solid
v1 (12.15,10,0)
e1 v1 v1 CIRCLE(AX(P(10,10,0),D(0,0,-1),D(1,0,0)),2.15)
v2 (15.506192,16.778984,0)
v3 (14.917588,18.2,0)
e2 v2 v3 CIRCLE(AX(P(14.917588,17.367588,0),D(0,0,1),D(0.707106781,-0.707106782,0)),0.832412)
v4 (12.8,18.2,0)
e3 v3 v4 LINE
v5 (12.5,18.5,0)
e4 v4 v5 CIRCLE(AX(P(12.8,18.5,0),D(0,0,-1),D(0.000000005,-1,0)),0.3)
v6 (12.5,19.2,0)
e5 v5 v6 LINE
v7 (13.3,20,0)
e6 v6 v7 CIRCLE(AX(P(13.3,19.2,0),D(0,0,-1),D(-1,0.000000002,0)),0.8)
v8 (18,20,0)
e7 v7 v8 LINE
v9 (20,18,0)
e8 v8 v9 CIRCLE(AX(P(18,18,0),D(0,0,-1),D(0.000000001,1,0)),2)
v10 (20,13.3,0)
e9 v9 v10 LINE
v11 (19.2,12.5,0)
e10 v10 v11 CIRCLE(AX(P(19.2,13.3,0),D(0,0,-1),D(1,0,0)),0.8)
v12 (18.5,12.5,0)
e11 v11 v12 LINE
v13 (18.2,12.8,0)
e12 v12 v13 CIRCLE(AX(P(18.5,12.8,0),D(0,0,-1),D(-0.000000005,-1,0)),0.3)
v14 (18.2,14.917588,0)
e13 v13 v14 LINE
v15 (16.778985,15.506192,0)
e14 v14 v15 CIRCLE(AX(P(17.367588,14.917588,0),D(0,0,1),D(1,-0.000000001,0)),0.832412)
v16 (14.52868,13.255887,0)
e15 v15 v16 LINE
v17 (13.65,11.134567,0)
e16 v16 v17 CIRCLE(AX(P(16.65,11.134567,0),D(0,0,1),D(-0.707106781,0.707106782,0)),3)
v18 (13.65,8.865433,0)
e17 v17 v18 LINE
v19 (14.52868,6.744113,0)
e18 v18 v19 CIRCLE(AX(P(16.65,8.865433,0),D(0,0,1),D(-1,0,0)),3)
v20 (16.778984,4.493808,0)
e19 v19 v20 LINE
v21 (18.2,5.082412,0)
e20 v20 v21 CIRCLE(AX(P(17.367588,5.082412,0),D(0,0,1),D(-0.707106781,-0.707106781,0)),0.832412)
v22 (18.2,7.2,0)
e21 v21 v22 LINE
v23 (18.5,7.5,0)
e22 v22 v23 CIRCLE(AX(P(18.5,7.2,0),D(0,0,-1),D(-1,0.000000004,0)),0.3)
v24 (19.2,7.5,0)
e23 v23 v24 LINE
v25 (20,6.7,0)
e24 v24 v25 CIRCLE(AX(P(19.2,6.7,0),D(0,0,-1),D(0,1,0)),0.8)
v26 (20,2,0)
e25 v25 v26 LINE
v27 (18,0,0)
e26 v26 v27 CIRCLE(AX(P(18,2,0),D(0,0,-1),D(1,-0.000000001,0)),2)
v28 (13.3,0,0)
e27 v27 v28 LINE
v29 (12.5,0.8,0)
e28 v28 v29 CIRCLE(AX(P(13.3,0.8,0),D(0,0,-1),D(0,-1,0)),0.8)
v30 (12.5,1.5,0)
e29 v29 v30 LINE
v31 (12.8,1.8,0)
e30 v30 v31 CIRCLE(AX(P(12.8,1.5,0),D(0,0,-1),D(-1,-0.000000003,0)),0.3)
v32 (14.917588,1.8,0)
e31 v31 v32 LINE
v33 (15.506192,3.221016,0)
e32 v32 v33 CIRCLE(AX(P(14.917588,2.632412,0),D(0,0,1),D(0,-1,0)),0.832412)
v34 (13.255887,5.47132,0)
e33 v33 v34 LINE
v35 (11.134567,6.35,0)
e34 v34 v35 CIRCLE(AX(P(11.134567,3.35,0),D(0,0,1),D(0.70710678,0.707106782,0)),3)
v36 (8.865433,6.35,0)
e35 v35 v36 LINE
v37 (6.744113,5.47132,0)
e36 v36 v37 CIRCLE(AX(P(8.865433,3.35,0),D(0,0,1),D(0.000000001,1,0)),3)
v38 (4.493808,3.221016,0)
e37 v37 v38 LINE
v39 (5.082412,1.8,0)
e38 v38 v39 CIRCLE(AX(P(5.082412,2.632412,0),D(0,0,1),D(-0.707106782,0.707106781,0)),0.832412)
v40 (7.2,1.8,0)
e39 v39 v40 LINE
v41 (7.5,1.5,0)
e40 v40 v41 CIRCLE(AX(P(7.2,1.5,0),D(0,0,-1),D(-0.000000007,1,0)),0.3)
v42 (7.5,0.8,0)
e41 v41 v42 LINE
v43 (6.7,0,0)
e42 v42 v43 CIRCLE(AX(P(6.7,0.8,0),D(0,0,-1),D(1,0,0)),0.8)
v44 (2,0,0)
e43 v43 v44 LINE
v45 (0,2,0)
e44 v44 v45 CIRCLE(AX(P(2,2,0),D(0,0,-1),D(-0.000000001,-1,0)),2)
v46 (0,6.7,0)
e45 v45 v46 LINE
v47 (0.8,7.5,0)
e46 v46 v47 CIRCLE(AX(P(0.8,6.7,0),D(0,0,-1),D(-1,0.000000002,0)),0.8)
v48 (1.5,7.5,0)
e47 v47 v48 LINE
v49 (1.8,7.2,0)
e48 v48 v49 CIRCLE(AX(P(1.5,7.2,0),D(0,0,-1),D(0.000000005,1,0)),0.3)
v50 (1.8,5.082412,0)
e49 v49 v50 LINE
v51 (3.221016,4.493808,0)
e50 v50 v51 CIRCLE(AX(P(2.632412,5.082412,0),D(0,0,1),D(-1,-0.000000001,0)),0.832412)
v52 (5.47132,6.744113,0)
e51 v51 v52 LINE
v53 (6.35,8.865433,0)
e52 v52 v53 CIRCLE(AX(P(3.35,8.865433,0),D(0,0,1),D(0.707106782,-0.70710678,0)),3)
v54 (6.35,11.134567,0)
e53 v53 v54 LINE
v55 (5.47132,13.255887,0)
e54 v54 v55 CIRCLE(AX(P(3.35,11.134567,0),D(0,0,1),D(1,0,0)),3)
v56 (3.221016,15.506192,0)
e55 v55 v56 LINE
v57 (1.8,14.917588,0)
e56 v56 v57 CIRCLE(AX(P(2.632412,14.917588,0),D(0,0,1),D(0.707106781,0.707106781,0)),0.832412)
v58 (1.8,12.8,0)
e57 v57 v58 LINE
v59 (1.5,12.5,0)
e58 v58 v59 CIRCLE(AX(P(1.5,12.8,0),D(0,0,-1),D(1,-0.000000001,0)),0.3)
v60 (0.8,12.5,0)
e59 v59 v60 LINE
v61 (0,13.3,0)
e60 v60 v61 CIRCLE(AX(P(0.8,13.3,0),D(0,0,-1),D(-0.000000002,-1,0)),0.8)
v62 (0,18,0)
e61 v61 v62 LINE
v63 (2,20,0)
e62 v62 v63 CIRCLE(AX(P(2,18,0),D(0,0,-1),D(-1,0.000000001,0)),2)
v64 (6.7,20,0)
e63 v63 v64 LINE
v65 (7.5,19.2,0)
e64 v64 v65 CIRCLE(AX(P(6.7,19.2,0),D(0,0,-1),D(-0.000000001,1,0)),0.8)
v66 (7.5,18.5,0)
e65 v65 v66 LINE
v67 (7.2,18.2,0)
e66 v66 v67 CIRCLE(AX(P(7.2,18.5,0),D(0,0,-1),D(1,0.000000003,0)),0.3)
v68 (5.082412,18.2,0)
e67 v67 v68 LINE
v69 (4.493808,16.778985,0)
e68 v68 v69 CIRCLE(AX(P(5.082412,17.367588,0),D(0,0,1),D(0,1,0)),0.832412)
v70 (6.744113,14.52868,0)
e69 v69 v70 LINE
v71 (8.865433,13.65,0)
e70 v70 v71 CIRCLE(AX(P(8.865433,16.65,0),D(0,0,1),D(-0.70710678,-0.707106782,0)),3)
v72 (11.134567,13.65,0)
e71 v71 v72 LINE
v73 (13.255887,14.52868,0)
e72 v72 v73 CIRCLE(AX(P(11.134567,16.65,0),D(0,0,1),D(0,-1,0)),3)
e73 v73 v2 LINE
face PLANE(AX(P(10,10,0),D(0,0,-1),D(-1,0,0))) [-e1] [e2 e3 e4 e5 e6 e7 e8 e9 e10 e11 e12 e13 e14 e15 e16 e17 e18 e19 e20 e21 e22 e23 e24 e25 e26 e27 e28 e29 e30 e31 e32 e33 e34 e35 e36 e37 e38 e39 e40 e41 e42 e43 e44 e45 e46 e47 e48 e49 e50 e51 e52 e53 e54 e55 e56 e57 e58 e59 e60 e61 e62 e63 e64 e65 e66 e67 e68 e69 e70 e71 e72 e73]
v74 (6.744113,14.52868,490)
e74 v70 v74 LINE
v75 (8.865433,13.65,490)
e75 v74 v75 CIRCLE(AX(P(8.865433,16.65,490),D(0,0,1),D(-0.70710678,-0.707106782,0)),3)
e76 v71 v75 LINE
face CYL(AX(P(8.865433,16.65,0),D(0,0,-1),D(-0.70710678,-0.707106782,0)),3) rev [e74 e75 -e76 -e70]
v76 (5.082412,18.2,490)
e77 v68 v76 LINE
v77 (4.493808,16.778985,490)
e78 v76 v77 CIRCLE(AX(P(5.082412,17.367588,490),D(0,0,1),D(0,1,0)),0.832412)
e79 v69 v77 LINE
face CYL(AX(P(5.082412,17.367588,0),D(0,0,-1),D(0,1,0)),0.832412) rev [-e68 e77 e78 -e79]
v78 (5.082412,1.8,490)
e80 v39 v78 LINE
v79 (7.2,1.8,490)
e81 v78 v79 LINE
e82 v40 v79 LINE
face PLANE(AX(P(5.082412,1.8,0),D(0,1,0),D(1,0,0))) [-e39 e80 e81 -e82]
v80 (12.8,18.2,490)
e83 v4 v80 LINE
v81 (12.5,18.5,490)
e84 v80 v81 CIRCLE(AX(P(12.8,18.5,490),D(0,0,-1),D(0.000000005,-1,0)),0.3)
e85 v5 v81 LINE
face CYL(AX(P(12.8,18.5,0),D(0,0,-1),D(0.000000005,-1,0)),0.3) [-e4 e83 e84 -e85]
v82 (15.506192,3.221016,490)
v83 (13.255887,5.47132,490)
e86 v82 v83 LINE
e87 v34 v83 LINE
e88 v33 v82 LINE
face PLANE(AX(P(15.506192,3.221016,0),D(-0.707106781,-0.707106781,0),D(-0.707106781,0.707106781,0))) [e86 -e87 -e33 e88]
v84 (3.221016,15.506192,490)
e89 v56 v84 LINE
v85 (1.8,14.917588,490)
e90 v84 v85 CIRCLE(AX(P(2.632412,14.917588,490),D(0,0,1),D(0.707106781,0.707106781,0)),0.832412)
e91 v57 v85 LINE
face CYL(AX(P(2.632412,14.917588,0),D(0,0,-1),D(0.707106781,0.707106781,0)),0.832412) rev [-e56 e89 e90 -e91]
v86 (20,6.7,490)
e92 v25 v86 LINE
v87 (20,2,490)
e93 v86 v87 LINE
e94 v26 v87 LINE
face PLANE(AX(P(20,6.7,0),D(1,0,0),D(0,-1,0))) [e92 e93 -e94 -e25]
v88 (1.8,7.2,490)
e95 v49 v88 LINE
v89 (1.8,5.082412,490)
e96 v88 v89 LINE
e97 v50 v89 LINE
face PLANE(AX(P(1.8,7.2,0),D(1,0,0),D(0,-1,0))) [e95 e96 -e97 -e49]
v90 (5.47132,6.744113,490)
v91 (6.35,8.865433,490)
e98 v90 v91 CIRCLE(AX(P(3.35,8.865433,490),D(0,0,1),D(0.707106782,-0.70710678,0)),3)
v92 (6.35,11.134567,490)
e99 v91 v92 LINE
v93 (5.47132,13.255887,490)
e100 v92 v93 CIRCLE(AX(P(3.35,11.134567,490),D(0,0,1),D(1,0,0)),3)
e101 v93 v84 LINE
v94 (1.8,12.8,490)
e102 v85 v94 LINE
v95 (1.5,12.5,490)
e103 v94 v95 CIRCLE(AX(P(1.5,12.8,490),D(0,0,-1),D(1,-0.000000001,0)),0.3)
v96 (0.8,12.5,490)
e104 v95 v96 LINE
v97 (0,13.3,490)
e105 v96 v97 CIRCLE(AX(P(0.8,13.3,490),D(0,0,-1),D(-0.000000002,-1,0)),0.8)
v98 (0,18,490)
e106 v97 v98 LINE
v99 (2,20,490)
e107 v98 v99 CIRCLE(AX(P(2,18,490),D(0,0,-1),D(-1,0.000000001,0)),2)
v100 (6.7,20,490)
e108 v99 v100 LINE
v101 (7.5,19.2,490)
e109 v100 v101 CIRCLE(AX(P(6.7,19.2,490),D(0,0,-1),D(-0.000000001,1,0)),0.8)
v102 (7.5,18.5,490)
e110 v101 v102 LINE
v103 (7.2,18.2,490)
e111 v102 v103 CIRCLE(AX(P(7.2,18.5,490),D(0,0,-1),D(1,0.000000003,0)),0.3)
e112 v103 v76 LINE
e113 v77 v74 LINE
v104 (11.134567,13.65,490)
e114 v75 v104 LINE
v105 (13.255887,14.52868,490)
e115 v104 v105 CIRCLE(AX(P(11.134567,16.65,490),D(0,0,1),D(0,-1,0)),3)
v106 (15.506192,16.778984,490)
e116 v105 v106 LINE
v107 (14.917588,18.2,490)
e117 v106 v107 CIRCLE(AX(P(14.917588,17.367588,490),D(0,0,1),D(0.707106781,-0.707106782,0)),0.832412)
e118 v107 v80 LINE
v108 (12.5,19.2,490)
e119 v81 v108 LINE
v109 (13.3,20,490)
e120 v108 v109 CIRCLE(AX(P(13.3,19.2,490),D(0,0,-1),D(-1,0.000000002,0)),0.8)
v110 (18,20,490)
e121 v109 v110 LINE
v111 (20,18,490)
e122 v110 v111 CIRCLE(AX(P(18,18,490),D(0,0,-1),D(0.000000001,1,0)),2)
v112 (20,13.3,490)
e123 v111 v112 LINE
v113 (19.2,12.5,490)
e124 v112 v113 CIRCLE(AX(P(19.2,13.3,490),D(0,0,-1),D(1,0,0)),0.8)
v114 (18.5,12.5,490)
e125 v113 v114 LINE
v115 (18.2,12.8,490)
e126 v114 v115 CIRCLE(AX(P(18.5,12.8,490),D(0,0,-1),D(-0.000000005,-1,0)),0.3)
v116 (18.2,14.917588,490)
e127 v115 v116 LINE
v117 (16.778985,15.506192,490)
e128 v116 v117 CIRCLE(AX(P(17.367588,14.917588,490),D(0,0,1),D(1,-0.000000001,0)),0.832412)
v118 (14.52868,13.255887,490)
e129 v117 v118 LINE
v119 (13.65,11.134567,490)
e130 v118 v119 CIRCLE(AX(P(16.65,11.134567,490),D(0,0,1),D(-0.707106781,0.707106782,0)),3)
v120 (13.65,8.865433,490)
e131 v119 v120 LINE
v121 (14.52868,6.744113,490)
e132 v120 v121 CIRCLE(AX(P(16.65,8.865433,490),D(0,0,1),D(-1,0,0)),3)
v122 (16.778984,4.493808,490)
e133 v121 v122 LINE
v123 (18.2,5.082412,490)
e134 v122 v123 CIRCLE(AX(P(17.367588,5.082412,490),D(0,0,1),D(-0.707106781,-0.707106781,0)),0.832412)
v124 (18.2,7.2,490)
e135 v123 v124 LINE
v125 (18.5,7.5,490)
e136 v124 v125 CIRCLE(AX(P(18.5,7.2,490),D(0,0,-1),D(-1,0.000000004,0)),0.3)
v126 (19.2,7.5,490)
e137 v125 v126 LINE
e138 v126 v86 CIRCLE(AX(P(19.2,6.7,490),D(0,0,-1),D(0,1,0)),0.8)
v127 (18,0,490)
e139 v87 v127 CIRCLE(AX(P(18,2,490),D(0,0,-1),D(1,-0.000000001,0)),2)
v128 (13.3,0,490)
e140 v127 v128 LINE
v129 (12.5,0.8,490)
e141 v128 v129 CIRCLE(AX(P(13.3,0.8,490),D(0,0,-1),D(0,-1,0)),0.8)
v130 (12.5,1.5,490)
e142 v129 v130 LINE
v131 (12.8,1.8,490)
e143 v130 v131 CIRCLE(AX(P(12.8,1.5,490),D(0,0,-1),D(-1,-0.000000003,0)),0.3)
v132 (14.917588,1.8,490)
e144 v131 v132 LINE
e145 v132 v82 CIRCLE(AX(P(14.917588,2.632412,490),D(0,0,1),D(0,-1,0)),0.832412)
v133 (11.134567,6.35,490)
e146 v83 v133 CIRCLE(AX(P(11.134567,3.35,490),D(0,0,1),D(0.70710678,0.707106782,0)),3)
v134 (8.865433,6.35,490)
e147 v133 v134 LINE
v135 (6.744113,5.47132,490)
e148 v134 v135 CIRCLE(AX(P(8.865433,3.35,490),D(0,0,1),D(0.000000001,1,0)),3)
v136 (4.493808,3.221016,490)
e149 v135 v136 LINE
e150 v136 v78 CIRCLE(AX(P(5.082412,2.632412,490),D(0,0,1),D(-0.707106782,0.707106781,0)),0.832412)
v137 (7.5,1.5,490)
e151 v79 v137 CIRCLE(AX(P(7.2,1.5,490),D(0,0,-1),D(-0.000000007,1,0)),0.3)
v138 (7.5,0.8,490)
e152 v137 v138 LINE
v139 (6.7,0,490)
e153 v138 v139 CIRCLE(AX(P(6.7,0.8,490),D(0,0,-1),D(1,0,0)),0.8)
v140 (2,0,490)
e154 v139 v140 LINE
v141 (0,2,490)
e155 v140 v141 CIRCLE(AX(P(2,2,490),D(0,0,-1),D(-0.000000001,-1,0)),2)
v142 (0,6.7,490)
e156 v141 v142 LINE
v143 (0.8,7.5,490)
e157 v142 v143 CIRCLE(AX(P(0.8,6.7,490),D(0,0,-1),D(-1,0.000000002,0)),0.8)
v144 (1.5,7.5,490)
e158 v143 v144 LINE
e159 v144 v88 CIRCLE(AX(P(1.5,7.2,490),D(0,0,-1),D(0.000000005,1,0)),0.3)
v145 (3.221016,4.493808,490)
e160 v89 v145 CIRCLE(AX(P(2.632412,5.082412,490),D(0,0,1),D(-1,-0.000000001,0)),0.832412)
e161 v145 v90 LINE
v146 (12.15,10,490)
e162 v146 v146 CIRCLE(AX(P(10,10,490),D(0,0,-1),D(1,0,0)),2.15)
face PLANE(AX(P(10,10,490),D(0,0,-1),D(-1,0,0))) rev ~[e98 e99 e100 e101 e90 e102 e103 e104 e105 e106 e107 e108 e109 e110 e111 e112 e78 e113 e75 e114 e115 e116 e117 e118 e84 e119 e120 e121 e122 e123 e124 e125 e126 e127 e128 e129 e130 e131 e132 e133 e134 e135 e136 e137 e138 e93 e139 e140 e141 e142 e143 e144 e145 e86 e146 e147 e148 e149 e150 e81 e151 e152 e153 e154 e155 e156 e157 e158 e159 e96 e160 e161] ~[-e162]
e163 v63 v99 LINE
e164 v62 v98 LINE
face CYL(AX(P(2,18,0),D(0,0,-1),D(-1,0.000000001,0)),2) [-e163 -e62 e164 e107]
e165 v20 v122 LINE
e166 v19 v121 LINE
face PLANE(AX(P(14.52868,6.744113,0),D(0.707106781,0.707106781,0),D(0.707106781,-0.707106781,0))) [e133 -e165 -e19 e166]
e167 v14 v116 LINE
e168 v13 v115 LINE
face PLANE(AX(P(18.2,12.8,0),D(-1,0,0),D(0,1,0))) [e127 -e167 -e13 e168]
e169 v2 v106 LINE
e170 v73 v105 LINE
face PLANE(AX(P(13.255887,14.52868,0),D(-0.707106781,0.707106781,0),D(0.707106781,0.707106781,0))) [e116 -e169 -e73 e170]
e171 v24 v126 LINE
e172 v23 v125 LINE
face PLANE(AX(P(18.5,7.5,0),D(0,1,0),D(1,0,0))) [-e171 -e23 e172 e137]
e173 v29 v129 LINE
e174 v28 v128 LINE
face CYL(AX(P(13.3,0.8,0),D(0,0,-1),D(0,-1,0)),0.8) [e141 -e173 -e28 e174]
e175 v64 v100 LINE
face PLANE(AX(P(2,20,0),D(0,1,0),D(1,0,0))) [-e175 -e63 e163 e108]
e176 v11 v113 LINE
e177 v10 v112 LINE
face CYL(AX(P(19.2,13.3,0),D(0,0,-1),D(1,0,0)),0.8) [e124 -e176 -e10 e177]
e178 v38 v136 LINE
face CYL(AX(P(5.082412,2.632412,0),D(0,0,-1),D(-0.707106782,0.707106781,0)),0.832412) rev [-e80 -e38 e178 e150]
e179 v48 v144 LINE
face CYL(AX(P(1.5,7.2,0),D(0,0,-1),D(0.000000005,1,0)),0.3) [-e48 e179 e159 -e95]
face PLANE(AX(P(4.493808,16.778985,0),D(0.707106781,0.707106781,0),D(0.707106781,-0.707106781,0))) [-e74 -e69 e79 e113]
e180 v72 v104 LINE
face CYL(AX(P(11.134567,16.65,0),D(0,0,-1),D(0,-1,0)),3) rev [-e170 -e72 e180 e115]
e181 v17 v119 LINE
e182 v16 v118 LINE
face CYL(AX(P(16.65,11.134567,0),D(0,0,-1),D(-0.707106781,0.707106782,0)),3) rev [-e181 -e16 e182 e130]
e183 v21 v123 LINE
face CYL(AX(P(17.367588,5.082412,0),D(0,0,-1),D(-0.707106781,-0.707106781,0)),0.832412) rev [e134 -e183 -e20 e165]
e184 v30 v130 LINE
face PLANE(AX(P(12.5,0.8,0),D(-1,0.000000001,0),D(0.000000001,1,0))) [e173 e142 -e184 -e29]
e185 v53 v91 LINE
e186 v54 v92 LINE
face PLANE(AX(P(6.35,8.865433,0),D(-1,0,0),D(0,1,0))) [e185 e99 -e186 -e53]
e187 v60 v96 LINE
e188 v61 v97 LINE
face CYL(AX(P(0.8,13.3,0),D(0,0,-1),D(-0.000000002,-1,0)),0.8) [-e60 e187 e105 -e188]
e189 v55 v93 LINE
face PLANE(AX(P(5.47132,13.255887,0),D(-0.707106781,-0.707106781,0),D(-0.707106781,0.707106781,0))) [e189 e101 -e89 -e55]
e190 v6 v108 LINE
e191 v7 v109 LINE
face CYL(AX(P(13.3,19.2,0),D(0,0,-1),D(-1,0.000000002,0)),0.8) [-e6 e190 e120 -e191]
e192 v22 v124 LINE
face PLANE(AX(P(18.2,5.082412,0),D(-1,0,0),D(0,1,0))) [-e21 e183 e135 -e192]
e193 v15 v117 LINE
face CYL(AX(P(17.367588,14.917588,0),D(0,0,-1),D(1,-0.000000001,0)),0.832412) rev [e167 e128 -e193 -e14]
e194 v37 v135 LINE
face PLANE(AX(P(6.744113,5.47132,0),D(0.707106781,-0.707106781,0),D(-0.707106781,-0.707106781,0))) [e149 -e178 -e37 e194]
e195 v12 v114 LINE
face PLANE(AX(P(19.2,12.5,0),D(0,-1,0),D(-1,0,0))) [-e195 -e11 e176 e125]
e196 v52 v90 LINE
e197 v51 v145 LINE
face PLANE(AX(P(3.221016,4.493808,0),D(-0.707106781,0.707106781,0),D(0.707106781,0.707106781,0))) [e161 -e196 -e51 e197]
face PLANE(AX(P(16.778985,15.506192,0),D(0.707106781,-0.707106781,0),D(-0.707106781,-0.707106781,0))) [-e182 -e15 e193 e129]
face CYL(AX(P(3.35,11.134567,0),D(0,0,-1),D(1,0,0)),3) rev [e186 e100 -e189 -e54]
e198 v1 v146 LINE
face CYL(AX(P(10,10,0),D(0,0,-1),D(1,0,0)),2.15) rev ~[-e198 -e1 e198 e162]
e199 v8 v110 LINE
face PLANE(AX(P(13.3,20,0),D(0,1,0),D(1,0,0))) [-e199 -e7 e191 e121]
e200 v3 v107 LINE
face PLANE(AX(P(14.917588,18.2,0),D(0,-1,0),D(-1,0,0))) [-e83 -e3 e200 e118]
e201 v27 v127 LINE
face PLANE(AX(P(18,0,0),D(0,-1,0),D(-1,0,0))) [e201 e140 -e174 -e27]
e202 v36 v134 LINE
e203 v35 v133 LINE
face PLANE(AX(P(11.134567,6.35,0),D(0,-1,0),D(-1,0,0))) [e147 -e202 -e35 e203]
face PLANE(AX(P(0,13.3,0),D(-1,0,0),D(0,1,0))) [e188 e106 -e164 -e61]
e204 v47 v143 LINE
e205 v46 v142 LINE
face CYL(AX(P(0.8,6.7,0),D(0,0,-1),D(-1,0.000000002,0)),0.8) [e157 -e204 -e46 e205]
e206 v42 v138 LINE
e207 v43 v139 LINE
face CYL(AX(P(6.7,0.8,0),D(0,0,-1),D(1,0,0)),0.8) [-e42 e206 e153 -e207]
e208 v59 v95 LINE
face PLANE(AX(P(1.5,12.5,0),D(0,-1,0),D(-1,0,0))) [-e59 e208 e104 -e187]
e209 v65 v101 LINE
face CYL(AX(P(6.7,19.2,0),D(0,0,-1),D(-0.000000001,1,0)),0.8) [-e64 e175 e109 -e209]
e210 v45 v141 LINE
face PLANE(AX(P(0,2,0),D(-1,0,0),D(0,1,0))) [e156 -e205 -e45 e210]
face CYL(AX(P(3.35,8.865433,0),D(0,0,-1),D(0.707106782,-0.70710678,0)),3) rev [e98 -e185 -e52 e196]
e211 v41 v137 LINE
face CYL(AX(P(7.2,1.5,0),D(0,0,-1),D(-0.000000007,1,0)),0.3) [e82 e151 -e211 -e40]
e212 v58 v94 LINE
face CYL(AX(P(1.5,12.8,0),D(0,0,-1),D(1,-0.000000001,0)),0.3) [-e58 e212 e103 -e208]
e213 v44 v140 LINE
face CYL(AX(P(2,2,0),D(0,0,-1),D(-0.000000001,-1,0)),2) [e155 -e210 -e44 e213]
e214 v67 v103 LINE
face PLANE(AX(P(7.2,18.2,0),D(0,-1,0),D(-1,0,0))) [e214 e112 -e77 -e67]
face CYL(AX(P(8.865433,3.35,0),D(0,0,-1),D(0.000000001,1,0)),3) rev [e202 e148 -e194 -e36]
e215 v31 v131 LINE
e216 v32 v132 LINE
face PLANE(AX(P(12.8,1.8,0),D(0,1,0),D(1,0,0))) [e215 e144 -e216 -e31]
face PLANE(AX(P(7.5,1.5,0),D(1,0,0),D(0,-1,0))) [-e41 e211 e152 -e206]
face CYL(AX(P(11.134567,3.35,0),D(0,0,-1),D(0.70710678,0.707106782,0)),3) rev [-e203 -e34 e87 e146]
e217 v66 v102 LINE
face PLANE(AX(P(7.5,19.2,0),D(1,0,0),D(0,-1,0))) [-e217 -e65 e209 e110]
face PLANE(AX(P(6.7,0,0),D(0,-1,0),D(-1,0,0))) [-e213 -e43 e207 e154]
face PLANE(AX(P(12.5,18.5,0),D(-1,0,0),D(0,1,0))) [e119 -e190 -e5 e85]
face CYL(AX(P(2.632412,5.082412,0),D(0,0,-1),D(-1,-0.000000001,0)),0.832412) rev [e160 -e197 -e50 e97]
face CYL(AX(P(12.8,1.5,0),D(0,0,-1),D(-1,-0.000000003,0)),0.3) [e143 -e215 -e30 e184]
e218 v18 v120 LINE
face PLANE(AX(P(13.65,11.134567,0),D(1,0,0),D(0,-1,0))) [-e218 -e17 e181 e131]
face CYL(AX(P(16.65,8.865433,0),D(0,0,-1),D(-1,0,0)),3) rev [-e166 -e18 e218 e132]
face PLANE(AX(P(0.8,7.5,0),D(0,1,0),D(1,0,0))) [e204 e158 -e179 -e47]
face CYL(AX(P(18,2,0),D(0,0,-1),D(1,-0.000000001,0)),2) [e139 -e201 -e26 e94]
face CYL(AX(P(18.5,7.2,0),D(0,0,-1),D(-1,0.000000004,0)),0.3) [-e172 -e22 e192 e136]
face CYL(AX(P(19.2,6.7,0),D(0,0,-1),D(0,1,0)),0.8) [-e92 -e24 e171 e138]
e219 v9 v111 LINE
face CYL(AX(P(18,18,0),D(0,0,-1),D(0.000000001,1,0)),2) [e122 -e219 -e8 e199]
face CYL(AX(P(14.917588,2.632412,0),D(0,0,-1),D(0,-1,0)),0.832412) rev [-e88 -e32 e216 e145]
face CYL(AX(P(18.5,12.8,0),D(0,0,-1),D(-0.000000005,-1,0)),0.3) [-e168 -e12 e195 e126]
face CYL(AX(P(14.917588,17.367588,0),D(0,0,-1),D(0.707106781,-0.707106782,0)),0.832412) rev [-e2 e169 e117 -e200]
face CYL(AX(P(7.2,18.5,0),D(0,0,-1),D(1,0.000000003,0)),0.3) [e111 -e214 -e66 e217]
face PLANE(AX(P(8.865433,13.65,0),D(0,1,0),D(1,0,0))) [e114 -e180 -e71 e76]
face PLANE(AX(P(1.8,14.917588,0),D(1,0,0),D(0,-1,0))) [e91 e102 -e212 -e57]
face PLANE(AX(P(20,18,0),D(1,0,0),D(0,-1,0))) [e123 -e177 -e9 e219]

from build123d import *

# Parameters (mm, degrees)
ESQUISSE1_R        = 2.15
BOSS_EXTRU_1_DEPTH = 490


with BuildPart() as part:
    # Esquisse1 → Boss.-Extru.1 (new body)
    with BuildSketch(Plane(origin=(0, 0, 0), x_dir=(-1, 0, 0), z_dir=(0, 0, -1))):
        with BuildLine():
            Line((-12.499999997, 0.800000003), (-12.499999998, 1.500000003))
            ThreePointArc((-12.499999998, 1.500000003), (-12.587867964, 1.712132039), (-12.8, 1.800000005))
            Line((-12.8, 1.800000005), (-14.9175884, 1.800000005))
            ThreePointArc((-14.9175884, 1.800000005), (-15.686636444, 2.31386148), (-15.50619229, 3.2210155))
            Line((-15.50619229, 3.2210155), (-13.25588745, 5.47132034))
            ThreePointArc((-13.25588745, 5.47132034), (-12.282617404, 6.121638593), (-11.134567108, 6.349999996))
            Line((-11.134567108, 6.349999996), (-8.865432907, 6.349999996))
            ThreePointArc((-8.865432907, 6.349999996), (-7.717382611, 6.121638594), (-6.744112567, 5.471320341))
            Line((-6.744112567, 5.471320341), (-4.493807729, 3.221015503))
            ThreePointArc((-4.493807729, 3.221015503), (-4.313363575, 2.313861481), (-5.082411621, 1.800000005))
            Line((-5.082411621, 1.800000005), (-7.20000001, 1.800000005))
            ThreePointArc((-7.20000001, 1.800000005), (-7.412132045, 1.71213204), (-7.50000001, 1.500000005))
            Line((-7.50000001, 1.500000005), (-7.50000001, 0.8))
            ThreePointArc((-7.50000001, 0.8), (-7.265685435, 0.234314575), (-6.70000001, 0))
            Line((-6.70000001, 0), (-2, 0))
            ThreePointArc((-2, 0), (-0.585786438, 0.585786438), (0, 2))
            Line((0, 2), (0, 6.699999998))
            ThreePointArc((0, 6.699999998), (-0.234314576, 7.265685424), (-0.800000003, 7.5))
            Line((-0.800000003, 7.5), (-1.50000001, 7.5))
            ThreePointArc((-1.50000001, 7.5), (-1.712132046, 7.412132033), (-1.800000013, 7.199999997))
            Line((-1.800000013, 7.199999997), (-1.800000013, 5.082411603))
            ThreePointArc((-1.800000013, 5.082411603), (-2.313861487, 4.31336356), (-3.221015507, 4.493807713))
            Line((-3.221015507, 4.493807713), (-5.471320347, 6.744112553))
            ThreePointArc((-5.471320347, 6.744112553), (-6.1216386, 7.717382599), (-6.350000003, 8.865432896))
            Line((-6.350000003, 8.865432896), (-6.350000003, 11.134567102))
            ThreePointArc((-6.350000003, 11.134567102), (-6.121638601, 12.282617397), (-5.471320348, 13.255887442))
            Line((-5.471320348, 13.255887442), (-3.221015512, 15.506192278))
            ThreePointArc((-3.221015512, 15.506192278), (-2.313861489, 15.686636432), (-1.800000013, 14.917588386))
            Line((-1.800000013, 14.917588386), (-1.800000013, 12.799999998))
            ThreePointArc((-1.800000013, 12.799999998), (-1.712132047, 12.587867963), (-1.500000013, 12.499999997))
            Line((-1.500000013, 12.499999997), (-0.8, 12.499999997))
            ThreePointArc((-0.8, 12.499999997), (-0.234314575, 12.734314573), (0, 13.299999998))
            Line((0, 13.299999998), (0, 18))
            ThreePointArc((0, 18), (-0.585786438, 19.414213562), (-2, 20))
            Line((-2, 20), (-6.700000008, 20))
            ThreePointArc((-6.700000008, 20), (-7.265685435, 19.765685424), (-7.50000001, 19.199999998))
            Line((-7.50000001, 19.199999998), (-7.50000001, 18.500000005))
            ThreePointArc((-7.50000001, 18.500000005), (-7.412132044, 18.287867969), (-7.200000008, 18.200000003))
            Line((-7.200000008, 18.200000003), (-5.082411594, 18.200000003))
            ThreePointArc((-5.082411594, 18.200000003), (-4.313363546, 17.686138526), (-4.493807701, 16.778984501))
            Line((-4.493807701, 16.778984501), (-6.744112542, 14.528679659))
            ThreePointArc((-6.744112542, 14.528679659), (-7.717382588, 13.878361406), (-8.865432885, 13.650000003))
            Line((-8.865432885, 13.650000003), (-11.134567112, 13.650000003))
            ThreePointArc((-11.134567112, 13.650000003), (-12.282617407, 13.878361405), (-13.255887452, 14.528679658))
            Line((-13.255887452, 14.528679658), (-15.506192292, 16.778984498))
            ThreePointArc((-15.506192292, 16.778984498), (-15.686636447, 17.686138525), (-14.917588397, 18.200000002))
            Line((-14.917588397, 18.200000002), (-12.799999998, 18.200000003))
            ThreePointArc((-12.799999998, 18.200000003), (-12.587867963, 18.287867968), (-12.499999997, 18.500000002))
            Line((-12.499999997, 18.500000002), (-12.499999997, 19.2))
            ThreePointArc((-12.499999997, 19.2), (-12.734314573, 19.765685425), (-13.299999998, 20))
            Line((-13.299999998, 20), (-18, 20))
            ThreePointArc((-18, 20), (-19.414213562, 19.414213562), (-20, 18))
            Line((-20, 18), (-20, 13.3))
            ThreePointArc((-20, 13.3), (-19.765685424, 12.734314573), (-19.199999998, 12.499999997))
            Line((-19.199999998, 12.499999997), (-18.500000003, 12.499999997))
            ThreePointArc((-18.500000003, 12.499999997), (-18.287867967, 12.587867964), (-18.2, 12.8))
            Line((-18.2, 12.8), (-18.2, 14.91758839))
            ThreePointArc((-18.2, 14.91758839), (-17.686138526, 15.686636434), (-16.778984506, 15.50619228))
            Line((-16.778984506, 15.50619228), (-14.528679657, 13.255887431))
            ThreePointArc((-14.528679657, 13.255887431), (-13.878361403, 12.282617385), (-13.650000001, 11.134567088))
            Line((-13.650000001, 11.134567088), (-13.650000001, 8.865432886))
            ThreePointArc((-13.650000001, 8.865432886), (-13.878361403, 7.717382591), (-14.528679656, 6.744112546))
            Line((-14.528679656, 6.744112546), (-16.778984496, 4.493807706))
            ThreePointArc((-16.778984496, 4.493807706), (-17.686138522, 4.313363551), (-18.2, 5.0824116))
            Line((-18.2, 5.0824116), (-18.2, 7.2))
            ThreePointArc((-18.2, 7.2), (-18.287867966, 7.412132034), (-18.5, 7.5))
            Line((-18.5, 7.5), (-19.2, 7.5))
            ThreePointArc((-19.2, 7.5), (-19.765685425, 7.265685425), (-20, 6.7))
            Line((-20, 6.7), (-20, 2))
            ThreePointArc((-20, 2), (-19.414213562, 0.585786438), (-18, 0))
            Line((-18, 0), (-13.3, 0))
            ThreePointArc((-13.3, 0), (-12.734314573, 0.234314576), (-12.499999997, 0.800000003))
        make_face()
        with Locations(Location((-10, 10, 0), (0, 0, 180))):
            Circle(ESQUISSE1_R, mode=Mode.SUBTRACT)
    extrude(amount=-BOSS_EXTRU_1_DEPTH)


solid = part.part
